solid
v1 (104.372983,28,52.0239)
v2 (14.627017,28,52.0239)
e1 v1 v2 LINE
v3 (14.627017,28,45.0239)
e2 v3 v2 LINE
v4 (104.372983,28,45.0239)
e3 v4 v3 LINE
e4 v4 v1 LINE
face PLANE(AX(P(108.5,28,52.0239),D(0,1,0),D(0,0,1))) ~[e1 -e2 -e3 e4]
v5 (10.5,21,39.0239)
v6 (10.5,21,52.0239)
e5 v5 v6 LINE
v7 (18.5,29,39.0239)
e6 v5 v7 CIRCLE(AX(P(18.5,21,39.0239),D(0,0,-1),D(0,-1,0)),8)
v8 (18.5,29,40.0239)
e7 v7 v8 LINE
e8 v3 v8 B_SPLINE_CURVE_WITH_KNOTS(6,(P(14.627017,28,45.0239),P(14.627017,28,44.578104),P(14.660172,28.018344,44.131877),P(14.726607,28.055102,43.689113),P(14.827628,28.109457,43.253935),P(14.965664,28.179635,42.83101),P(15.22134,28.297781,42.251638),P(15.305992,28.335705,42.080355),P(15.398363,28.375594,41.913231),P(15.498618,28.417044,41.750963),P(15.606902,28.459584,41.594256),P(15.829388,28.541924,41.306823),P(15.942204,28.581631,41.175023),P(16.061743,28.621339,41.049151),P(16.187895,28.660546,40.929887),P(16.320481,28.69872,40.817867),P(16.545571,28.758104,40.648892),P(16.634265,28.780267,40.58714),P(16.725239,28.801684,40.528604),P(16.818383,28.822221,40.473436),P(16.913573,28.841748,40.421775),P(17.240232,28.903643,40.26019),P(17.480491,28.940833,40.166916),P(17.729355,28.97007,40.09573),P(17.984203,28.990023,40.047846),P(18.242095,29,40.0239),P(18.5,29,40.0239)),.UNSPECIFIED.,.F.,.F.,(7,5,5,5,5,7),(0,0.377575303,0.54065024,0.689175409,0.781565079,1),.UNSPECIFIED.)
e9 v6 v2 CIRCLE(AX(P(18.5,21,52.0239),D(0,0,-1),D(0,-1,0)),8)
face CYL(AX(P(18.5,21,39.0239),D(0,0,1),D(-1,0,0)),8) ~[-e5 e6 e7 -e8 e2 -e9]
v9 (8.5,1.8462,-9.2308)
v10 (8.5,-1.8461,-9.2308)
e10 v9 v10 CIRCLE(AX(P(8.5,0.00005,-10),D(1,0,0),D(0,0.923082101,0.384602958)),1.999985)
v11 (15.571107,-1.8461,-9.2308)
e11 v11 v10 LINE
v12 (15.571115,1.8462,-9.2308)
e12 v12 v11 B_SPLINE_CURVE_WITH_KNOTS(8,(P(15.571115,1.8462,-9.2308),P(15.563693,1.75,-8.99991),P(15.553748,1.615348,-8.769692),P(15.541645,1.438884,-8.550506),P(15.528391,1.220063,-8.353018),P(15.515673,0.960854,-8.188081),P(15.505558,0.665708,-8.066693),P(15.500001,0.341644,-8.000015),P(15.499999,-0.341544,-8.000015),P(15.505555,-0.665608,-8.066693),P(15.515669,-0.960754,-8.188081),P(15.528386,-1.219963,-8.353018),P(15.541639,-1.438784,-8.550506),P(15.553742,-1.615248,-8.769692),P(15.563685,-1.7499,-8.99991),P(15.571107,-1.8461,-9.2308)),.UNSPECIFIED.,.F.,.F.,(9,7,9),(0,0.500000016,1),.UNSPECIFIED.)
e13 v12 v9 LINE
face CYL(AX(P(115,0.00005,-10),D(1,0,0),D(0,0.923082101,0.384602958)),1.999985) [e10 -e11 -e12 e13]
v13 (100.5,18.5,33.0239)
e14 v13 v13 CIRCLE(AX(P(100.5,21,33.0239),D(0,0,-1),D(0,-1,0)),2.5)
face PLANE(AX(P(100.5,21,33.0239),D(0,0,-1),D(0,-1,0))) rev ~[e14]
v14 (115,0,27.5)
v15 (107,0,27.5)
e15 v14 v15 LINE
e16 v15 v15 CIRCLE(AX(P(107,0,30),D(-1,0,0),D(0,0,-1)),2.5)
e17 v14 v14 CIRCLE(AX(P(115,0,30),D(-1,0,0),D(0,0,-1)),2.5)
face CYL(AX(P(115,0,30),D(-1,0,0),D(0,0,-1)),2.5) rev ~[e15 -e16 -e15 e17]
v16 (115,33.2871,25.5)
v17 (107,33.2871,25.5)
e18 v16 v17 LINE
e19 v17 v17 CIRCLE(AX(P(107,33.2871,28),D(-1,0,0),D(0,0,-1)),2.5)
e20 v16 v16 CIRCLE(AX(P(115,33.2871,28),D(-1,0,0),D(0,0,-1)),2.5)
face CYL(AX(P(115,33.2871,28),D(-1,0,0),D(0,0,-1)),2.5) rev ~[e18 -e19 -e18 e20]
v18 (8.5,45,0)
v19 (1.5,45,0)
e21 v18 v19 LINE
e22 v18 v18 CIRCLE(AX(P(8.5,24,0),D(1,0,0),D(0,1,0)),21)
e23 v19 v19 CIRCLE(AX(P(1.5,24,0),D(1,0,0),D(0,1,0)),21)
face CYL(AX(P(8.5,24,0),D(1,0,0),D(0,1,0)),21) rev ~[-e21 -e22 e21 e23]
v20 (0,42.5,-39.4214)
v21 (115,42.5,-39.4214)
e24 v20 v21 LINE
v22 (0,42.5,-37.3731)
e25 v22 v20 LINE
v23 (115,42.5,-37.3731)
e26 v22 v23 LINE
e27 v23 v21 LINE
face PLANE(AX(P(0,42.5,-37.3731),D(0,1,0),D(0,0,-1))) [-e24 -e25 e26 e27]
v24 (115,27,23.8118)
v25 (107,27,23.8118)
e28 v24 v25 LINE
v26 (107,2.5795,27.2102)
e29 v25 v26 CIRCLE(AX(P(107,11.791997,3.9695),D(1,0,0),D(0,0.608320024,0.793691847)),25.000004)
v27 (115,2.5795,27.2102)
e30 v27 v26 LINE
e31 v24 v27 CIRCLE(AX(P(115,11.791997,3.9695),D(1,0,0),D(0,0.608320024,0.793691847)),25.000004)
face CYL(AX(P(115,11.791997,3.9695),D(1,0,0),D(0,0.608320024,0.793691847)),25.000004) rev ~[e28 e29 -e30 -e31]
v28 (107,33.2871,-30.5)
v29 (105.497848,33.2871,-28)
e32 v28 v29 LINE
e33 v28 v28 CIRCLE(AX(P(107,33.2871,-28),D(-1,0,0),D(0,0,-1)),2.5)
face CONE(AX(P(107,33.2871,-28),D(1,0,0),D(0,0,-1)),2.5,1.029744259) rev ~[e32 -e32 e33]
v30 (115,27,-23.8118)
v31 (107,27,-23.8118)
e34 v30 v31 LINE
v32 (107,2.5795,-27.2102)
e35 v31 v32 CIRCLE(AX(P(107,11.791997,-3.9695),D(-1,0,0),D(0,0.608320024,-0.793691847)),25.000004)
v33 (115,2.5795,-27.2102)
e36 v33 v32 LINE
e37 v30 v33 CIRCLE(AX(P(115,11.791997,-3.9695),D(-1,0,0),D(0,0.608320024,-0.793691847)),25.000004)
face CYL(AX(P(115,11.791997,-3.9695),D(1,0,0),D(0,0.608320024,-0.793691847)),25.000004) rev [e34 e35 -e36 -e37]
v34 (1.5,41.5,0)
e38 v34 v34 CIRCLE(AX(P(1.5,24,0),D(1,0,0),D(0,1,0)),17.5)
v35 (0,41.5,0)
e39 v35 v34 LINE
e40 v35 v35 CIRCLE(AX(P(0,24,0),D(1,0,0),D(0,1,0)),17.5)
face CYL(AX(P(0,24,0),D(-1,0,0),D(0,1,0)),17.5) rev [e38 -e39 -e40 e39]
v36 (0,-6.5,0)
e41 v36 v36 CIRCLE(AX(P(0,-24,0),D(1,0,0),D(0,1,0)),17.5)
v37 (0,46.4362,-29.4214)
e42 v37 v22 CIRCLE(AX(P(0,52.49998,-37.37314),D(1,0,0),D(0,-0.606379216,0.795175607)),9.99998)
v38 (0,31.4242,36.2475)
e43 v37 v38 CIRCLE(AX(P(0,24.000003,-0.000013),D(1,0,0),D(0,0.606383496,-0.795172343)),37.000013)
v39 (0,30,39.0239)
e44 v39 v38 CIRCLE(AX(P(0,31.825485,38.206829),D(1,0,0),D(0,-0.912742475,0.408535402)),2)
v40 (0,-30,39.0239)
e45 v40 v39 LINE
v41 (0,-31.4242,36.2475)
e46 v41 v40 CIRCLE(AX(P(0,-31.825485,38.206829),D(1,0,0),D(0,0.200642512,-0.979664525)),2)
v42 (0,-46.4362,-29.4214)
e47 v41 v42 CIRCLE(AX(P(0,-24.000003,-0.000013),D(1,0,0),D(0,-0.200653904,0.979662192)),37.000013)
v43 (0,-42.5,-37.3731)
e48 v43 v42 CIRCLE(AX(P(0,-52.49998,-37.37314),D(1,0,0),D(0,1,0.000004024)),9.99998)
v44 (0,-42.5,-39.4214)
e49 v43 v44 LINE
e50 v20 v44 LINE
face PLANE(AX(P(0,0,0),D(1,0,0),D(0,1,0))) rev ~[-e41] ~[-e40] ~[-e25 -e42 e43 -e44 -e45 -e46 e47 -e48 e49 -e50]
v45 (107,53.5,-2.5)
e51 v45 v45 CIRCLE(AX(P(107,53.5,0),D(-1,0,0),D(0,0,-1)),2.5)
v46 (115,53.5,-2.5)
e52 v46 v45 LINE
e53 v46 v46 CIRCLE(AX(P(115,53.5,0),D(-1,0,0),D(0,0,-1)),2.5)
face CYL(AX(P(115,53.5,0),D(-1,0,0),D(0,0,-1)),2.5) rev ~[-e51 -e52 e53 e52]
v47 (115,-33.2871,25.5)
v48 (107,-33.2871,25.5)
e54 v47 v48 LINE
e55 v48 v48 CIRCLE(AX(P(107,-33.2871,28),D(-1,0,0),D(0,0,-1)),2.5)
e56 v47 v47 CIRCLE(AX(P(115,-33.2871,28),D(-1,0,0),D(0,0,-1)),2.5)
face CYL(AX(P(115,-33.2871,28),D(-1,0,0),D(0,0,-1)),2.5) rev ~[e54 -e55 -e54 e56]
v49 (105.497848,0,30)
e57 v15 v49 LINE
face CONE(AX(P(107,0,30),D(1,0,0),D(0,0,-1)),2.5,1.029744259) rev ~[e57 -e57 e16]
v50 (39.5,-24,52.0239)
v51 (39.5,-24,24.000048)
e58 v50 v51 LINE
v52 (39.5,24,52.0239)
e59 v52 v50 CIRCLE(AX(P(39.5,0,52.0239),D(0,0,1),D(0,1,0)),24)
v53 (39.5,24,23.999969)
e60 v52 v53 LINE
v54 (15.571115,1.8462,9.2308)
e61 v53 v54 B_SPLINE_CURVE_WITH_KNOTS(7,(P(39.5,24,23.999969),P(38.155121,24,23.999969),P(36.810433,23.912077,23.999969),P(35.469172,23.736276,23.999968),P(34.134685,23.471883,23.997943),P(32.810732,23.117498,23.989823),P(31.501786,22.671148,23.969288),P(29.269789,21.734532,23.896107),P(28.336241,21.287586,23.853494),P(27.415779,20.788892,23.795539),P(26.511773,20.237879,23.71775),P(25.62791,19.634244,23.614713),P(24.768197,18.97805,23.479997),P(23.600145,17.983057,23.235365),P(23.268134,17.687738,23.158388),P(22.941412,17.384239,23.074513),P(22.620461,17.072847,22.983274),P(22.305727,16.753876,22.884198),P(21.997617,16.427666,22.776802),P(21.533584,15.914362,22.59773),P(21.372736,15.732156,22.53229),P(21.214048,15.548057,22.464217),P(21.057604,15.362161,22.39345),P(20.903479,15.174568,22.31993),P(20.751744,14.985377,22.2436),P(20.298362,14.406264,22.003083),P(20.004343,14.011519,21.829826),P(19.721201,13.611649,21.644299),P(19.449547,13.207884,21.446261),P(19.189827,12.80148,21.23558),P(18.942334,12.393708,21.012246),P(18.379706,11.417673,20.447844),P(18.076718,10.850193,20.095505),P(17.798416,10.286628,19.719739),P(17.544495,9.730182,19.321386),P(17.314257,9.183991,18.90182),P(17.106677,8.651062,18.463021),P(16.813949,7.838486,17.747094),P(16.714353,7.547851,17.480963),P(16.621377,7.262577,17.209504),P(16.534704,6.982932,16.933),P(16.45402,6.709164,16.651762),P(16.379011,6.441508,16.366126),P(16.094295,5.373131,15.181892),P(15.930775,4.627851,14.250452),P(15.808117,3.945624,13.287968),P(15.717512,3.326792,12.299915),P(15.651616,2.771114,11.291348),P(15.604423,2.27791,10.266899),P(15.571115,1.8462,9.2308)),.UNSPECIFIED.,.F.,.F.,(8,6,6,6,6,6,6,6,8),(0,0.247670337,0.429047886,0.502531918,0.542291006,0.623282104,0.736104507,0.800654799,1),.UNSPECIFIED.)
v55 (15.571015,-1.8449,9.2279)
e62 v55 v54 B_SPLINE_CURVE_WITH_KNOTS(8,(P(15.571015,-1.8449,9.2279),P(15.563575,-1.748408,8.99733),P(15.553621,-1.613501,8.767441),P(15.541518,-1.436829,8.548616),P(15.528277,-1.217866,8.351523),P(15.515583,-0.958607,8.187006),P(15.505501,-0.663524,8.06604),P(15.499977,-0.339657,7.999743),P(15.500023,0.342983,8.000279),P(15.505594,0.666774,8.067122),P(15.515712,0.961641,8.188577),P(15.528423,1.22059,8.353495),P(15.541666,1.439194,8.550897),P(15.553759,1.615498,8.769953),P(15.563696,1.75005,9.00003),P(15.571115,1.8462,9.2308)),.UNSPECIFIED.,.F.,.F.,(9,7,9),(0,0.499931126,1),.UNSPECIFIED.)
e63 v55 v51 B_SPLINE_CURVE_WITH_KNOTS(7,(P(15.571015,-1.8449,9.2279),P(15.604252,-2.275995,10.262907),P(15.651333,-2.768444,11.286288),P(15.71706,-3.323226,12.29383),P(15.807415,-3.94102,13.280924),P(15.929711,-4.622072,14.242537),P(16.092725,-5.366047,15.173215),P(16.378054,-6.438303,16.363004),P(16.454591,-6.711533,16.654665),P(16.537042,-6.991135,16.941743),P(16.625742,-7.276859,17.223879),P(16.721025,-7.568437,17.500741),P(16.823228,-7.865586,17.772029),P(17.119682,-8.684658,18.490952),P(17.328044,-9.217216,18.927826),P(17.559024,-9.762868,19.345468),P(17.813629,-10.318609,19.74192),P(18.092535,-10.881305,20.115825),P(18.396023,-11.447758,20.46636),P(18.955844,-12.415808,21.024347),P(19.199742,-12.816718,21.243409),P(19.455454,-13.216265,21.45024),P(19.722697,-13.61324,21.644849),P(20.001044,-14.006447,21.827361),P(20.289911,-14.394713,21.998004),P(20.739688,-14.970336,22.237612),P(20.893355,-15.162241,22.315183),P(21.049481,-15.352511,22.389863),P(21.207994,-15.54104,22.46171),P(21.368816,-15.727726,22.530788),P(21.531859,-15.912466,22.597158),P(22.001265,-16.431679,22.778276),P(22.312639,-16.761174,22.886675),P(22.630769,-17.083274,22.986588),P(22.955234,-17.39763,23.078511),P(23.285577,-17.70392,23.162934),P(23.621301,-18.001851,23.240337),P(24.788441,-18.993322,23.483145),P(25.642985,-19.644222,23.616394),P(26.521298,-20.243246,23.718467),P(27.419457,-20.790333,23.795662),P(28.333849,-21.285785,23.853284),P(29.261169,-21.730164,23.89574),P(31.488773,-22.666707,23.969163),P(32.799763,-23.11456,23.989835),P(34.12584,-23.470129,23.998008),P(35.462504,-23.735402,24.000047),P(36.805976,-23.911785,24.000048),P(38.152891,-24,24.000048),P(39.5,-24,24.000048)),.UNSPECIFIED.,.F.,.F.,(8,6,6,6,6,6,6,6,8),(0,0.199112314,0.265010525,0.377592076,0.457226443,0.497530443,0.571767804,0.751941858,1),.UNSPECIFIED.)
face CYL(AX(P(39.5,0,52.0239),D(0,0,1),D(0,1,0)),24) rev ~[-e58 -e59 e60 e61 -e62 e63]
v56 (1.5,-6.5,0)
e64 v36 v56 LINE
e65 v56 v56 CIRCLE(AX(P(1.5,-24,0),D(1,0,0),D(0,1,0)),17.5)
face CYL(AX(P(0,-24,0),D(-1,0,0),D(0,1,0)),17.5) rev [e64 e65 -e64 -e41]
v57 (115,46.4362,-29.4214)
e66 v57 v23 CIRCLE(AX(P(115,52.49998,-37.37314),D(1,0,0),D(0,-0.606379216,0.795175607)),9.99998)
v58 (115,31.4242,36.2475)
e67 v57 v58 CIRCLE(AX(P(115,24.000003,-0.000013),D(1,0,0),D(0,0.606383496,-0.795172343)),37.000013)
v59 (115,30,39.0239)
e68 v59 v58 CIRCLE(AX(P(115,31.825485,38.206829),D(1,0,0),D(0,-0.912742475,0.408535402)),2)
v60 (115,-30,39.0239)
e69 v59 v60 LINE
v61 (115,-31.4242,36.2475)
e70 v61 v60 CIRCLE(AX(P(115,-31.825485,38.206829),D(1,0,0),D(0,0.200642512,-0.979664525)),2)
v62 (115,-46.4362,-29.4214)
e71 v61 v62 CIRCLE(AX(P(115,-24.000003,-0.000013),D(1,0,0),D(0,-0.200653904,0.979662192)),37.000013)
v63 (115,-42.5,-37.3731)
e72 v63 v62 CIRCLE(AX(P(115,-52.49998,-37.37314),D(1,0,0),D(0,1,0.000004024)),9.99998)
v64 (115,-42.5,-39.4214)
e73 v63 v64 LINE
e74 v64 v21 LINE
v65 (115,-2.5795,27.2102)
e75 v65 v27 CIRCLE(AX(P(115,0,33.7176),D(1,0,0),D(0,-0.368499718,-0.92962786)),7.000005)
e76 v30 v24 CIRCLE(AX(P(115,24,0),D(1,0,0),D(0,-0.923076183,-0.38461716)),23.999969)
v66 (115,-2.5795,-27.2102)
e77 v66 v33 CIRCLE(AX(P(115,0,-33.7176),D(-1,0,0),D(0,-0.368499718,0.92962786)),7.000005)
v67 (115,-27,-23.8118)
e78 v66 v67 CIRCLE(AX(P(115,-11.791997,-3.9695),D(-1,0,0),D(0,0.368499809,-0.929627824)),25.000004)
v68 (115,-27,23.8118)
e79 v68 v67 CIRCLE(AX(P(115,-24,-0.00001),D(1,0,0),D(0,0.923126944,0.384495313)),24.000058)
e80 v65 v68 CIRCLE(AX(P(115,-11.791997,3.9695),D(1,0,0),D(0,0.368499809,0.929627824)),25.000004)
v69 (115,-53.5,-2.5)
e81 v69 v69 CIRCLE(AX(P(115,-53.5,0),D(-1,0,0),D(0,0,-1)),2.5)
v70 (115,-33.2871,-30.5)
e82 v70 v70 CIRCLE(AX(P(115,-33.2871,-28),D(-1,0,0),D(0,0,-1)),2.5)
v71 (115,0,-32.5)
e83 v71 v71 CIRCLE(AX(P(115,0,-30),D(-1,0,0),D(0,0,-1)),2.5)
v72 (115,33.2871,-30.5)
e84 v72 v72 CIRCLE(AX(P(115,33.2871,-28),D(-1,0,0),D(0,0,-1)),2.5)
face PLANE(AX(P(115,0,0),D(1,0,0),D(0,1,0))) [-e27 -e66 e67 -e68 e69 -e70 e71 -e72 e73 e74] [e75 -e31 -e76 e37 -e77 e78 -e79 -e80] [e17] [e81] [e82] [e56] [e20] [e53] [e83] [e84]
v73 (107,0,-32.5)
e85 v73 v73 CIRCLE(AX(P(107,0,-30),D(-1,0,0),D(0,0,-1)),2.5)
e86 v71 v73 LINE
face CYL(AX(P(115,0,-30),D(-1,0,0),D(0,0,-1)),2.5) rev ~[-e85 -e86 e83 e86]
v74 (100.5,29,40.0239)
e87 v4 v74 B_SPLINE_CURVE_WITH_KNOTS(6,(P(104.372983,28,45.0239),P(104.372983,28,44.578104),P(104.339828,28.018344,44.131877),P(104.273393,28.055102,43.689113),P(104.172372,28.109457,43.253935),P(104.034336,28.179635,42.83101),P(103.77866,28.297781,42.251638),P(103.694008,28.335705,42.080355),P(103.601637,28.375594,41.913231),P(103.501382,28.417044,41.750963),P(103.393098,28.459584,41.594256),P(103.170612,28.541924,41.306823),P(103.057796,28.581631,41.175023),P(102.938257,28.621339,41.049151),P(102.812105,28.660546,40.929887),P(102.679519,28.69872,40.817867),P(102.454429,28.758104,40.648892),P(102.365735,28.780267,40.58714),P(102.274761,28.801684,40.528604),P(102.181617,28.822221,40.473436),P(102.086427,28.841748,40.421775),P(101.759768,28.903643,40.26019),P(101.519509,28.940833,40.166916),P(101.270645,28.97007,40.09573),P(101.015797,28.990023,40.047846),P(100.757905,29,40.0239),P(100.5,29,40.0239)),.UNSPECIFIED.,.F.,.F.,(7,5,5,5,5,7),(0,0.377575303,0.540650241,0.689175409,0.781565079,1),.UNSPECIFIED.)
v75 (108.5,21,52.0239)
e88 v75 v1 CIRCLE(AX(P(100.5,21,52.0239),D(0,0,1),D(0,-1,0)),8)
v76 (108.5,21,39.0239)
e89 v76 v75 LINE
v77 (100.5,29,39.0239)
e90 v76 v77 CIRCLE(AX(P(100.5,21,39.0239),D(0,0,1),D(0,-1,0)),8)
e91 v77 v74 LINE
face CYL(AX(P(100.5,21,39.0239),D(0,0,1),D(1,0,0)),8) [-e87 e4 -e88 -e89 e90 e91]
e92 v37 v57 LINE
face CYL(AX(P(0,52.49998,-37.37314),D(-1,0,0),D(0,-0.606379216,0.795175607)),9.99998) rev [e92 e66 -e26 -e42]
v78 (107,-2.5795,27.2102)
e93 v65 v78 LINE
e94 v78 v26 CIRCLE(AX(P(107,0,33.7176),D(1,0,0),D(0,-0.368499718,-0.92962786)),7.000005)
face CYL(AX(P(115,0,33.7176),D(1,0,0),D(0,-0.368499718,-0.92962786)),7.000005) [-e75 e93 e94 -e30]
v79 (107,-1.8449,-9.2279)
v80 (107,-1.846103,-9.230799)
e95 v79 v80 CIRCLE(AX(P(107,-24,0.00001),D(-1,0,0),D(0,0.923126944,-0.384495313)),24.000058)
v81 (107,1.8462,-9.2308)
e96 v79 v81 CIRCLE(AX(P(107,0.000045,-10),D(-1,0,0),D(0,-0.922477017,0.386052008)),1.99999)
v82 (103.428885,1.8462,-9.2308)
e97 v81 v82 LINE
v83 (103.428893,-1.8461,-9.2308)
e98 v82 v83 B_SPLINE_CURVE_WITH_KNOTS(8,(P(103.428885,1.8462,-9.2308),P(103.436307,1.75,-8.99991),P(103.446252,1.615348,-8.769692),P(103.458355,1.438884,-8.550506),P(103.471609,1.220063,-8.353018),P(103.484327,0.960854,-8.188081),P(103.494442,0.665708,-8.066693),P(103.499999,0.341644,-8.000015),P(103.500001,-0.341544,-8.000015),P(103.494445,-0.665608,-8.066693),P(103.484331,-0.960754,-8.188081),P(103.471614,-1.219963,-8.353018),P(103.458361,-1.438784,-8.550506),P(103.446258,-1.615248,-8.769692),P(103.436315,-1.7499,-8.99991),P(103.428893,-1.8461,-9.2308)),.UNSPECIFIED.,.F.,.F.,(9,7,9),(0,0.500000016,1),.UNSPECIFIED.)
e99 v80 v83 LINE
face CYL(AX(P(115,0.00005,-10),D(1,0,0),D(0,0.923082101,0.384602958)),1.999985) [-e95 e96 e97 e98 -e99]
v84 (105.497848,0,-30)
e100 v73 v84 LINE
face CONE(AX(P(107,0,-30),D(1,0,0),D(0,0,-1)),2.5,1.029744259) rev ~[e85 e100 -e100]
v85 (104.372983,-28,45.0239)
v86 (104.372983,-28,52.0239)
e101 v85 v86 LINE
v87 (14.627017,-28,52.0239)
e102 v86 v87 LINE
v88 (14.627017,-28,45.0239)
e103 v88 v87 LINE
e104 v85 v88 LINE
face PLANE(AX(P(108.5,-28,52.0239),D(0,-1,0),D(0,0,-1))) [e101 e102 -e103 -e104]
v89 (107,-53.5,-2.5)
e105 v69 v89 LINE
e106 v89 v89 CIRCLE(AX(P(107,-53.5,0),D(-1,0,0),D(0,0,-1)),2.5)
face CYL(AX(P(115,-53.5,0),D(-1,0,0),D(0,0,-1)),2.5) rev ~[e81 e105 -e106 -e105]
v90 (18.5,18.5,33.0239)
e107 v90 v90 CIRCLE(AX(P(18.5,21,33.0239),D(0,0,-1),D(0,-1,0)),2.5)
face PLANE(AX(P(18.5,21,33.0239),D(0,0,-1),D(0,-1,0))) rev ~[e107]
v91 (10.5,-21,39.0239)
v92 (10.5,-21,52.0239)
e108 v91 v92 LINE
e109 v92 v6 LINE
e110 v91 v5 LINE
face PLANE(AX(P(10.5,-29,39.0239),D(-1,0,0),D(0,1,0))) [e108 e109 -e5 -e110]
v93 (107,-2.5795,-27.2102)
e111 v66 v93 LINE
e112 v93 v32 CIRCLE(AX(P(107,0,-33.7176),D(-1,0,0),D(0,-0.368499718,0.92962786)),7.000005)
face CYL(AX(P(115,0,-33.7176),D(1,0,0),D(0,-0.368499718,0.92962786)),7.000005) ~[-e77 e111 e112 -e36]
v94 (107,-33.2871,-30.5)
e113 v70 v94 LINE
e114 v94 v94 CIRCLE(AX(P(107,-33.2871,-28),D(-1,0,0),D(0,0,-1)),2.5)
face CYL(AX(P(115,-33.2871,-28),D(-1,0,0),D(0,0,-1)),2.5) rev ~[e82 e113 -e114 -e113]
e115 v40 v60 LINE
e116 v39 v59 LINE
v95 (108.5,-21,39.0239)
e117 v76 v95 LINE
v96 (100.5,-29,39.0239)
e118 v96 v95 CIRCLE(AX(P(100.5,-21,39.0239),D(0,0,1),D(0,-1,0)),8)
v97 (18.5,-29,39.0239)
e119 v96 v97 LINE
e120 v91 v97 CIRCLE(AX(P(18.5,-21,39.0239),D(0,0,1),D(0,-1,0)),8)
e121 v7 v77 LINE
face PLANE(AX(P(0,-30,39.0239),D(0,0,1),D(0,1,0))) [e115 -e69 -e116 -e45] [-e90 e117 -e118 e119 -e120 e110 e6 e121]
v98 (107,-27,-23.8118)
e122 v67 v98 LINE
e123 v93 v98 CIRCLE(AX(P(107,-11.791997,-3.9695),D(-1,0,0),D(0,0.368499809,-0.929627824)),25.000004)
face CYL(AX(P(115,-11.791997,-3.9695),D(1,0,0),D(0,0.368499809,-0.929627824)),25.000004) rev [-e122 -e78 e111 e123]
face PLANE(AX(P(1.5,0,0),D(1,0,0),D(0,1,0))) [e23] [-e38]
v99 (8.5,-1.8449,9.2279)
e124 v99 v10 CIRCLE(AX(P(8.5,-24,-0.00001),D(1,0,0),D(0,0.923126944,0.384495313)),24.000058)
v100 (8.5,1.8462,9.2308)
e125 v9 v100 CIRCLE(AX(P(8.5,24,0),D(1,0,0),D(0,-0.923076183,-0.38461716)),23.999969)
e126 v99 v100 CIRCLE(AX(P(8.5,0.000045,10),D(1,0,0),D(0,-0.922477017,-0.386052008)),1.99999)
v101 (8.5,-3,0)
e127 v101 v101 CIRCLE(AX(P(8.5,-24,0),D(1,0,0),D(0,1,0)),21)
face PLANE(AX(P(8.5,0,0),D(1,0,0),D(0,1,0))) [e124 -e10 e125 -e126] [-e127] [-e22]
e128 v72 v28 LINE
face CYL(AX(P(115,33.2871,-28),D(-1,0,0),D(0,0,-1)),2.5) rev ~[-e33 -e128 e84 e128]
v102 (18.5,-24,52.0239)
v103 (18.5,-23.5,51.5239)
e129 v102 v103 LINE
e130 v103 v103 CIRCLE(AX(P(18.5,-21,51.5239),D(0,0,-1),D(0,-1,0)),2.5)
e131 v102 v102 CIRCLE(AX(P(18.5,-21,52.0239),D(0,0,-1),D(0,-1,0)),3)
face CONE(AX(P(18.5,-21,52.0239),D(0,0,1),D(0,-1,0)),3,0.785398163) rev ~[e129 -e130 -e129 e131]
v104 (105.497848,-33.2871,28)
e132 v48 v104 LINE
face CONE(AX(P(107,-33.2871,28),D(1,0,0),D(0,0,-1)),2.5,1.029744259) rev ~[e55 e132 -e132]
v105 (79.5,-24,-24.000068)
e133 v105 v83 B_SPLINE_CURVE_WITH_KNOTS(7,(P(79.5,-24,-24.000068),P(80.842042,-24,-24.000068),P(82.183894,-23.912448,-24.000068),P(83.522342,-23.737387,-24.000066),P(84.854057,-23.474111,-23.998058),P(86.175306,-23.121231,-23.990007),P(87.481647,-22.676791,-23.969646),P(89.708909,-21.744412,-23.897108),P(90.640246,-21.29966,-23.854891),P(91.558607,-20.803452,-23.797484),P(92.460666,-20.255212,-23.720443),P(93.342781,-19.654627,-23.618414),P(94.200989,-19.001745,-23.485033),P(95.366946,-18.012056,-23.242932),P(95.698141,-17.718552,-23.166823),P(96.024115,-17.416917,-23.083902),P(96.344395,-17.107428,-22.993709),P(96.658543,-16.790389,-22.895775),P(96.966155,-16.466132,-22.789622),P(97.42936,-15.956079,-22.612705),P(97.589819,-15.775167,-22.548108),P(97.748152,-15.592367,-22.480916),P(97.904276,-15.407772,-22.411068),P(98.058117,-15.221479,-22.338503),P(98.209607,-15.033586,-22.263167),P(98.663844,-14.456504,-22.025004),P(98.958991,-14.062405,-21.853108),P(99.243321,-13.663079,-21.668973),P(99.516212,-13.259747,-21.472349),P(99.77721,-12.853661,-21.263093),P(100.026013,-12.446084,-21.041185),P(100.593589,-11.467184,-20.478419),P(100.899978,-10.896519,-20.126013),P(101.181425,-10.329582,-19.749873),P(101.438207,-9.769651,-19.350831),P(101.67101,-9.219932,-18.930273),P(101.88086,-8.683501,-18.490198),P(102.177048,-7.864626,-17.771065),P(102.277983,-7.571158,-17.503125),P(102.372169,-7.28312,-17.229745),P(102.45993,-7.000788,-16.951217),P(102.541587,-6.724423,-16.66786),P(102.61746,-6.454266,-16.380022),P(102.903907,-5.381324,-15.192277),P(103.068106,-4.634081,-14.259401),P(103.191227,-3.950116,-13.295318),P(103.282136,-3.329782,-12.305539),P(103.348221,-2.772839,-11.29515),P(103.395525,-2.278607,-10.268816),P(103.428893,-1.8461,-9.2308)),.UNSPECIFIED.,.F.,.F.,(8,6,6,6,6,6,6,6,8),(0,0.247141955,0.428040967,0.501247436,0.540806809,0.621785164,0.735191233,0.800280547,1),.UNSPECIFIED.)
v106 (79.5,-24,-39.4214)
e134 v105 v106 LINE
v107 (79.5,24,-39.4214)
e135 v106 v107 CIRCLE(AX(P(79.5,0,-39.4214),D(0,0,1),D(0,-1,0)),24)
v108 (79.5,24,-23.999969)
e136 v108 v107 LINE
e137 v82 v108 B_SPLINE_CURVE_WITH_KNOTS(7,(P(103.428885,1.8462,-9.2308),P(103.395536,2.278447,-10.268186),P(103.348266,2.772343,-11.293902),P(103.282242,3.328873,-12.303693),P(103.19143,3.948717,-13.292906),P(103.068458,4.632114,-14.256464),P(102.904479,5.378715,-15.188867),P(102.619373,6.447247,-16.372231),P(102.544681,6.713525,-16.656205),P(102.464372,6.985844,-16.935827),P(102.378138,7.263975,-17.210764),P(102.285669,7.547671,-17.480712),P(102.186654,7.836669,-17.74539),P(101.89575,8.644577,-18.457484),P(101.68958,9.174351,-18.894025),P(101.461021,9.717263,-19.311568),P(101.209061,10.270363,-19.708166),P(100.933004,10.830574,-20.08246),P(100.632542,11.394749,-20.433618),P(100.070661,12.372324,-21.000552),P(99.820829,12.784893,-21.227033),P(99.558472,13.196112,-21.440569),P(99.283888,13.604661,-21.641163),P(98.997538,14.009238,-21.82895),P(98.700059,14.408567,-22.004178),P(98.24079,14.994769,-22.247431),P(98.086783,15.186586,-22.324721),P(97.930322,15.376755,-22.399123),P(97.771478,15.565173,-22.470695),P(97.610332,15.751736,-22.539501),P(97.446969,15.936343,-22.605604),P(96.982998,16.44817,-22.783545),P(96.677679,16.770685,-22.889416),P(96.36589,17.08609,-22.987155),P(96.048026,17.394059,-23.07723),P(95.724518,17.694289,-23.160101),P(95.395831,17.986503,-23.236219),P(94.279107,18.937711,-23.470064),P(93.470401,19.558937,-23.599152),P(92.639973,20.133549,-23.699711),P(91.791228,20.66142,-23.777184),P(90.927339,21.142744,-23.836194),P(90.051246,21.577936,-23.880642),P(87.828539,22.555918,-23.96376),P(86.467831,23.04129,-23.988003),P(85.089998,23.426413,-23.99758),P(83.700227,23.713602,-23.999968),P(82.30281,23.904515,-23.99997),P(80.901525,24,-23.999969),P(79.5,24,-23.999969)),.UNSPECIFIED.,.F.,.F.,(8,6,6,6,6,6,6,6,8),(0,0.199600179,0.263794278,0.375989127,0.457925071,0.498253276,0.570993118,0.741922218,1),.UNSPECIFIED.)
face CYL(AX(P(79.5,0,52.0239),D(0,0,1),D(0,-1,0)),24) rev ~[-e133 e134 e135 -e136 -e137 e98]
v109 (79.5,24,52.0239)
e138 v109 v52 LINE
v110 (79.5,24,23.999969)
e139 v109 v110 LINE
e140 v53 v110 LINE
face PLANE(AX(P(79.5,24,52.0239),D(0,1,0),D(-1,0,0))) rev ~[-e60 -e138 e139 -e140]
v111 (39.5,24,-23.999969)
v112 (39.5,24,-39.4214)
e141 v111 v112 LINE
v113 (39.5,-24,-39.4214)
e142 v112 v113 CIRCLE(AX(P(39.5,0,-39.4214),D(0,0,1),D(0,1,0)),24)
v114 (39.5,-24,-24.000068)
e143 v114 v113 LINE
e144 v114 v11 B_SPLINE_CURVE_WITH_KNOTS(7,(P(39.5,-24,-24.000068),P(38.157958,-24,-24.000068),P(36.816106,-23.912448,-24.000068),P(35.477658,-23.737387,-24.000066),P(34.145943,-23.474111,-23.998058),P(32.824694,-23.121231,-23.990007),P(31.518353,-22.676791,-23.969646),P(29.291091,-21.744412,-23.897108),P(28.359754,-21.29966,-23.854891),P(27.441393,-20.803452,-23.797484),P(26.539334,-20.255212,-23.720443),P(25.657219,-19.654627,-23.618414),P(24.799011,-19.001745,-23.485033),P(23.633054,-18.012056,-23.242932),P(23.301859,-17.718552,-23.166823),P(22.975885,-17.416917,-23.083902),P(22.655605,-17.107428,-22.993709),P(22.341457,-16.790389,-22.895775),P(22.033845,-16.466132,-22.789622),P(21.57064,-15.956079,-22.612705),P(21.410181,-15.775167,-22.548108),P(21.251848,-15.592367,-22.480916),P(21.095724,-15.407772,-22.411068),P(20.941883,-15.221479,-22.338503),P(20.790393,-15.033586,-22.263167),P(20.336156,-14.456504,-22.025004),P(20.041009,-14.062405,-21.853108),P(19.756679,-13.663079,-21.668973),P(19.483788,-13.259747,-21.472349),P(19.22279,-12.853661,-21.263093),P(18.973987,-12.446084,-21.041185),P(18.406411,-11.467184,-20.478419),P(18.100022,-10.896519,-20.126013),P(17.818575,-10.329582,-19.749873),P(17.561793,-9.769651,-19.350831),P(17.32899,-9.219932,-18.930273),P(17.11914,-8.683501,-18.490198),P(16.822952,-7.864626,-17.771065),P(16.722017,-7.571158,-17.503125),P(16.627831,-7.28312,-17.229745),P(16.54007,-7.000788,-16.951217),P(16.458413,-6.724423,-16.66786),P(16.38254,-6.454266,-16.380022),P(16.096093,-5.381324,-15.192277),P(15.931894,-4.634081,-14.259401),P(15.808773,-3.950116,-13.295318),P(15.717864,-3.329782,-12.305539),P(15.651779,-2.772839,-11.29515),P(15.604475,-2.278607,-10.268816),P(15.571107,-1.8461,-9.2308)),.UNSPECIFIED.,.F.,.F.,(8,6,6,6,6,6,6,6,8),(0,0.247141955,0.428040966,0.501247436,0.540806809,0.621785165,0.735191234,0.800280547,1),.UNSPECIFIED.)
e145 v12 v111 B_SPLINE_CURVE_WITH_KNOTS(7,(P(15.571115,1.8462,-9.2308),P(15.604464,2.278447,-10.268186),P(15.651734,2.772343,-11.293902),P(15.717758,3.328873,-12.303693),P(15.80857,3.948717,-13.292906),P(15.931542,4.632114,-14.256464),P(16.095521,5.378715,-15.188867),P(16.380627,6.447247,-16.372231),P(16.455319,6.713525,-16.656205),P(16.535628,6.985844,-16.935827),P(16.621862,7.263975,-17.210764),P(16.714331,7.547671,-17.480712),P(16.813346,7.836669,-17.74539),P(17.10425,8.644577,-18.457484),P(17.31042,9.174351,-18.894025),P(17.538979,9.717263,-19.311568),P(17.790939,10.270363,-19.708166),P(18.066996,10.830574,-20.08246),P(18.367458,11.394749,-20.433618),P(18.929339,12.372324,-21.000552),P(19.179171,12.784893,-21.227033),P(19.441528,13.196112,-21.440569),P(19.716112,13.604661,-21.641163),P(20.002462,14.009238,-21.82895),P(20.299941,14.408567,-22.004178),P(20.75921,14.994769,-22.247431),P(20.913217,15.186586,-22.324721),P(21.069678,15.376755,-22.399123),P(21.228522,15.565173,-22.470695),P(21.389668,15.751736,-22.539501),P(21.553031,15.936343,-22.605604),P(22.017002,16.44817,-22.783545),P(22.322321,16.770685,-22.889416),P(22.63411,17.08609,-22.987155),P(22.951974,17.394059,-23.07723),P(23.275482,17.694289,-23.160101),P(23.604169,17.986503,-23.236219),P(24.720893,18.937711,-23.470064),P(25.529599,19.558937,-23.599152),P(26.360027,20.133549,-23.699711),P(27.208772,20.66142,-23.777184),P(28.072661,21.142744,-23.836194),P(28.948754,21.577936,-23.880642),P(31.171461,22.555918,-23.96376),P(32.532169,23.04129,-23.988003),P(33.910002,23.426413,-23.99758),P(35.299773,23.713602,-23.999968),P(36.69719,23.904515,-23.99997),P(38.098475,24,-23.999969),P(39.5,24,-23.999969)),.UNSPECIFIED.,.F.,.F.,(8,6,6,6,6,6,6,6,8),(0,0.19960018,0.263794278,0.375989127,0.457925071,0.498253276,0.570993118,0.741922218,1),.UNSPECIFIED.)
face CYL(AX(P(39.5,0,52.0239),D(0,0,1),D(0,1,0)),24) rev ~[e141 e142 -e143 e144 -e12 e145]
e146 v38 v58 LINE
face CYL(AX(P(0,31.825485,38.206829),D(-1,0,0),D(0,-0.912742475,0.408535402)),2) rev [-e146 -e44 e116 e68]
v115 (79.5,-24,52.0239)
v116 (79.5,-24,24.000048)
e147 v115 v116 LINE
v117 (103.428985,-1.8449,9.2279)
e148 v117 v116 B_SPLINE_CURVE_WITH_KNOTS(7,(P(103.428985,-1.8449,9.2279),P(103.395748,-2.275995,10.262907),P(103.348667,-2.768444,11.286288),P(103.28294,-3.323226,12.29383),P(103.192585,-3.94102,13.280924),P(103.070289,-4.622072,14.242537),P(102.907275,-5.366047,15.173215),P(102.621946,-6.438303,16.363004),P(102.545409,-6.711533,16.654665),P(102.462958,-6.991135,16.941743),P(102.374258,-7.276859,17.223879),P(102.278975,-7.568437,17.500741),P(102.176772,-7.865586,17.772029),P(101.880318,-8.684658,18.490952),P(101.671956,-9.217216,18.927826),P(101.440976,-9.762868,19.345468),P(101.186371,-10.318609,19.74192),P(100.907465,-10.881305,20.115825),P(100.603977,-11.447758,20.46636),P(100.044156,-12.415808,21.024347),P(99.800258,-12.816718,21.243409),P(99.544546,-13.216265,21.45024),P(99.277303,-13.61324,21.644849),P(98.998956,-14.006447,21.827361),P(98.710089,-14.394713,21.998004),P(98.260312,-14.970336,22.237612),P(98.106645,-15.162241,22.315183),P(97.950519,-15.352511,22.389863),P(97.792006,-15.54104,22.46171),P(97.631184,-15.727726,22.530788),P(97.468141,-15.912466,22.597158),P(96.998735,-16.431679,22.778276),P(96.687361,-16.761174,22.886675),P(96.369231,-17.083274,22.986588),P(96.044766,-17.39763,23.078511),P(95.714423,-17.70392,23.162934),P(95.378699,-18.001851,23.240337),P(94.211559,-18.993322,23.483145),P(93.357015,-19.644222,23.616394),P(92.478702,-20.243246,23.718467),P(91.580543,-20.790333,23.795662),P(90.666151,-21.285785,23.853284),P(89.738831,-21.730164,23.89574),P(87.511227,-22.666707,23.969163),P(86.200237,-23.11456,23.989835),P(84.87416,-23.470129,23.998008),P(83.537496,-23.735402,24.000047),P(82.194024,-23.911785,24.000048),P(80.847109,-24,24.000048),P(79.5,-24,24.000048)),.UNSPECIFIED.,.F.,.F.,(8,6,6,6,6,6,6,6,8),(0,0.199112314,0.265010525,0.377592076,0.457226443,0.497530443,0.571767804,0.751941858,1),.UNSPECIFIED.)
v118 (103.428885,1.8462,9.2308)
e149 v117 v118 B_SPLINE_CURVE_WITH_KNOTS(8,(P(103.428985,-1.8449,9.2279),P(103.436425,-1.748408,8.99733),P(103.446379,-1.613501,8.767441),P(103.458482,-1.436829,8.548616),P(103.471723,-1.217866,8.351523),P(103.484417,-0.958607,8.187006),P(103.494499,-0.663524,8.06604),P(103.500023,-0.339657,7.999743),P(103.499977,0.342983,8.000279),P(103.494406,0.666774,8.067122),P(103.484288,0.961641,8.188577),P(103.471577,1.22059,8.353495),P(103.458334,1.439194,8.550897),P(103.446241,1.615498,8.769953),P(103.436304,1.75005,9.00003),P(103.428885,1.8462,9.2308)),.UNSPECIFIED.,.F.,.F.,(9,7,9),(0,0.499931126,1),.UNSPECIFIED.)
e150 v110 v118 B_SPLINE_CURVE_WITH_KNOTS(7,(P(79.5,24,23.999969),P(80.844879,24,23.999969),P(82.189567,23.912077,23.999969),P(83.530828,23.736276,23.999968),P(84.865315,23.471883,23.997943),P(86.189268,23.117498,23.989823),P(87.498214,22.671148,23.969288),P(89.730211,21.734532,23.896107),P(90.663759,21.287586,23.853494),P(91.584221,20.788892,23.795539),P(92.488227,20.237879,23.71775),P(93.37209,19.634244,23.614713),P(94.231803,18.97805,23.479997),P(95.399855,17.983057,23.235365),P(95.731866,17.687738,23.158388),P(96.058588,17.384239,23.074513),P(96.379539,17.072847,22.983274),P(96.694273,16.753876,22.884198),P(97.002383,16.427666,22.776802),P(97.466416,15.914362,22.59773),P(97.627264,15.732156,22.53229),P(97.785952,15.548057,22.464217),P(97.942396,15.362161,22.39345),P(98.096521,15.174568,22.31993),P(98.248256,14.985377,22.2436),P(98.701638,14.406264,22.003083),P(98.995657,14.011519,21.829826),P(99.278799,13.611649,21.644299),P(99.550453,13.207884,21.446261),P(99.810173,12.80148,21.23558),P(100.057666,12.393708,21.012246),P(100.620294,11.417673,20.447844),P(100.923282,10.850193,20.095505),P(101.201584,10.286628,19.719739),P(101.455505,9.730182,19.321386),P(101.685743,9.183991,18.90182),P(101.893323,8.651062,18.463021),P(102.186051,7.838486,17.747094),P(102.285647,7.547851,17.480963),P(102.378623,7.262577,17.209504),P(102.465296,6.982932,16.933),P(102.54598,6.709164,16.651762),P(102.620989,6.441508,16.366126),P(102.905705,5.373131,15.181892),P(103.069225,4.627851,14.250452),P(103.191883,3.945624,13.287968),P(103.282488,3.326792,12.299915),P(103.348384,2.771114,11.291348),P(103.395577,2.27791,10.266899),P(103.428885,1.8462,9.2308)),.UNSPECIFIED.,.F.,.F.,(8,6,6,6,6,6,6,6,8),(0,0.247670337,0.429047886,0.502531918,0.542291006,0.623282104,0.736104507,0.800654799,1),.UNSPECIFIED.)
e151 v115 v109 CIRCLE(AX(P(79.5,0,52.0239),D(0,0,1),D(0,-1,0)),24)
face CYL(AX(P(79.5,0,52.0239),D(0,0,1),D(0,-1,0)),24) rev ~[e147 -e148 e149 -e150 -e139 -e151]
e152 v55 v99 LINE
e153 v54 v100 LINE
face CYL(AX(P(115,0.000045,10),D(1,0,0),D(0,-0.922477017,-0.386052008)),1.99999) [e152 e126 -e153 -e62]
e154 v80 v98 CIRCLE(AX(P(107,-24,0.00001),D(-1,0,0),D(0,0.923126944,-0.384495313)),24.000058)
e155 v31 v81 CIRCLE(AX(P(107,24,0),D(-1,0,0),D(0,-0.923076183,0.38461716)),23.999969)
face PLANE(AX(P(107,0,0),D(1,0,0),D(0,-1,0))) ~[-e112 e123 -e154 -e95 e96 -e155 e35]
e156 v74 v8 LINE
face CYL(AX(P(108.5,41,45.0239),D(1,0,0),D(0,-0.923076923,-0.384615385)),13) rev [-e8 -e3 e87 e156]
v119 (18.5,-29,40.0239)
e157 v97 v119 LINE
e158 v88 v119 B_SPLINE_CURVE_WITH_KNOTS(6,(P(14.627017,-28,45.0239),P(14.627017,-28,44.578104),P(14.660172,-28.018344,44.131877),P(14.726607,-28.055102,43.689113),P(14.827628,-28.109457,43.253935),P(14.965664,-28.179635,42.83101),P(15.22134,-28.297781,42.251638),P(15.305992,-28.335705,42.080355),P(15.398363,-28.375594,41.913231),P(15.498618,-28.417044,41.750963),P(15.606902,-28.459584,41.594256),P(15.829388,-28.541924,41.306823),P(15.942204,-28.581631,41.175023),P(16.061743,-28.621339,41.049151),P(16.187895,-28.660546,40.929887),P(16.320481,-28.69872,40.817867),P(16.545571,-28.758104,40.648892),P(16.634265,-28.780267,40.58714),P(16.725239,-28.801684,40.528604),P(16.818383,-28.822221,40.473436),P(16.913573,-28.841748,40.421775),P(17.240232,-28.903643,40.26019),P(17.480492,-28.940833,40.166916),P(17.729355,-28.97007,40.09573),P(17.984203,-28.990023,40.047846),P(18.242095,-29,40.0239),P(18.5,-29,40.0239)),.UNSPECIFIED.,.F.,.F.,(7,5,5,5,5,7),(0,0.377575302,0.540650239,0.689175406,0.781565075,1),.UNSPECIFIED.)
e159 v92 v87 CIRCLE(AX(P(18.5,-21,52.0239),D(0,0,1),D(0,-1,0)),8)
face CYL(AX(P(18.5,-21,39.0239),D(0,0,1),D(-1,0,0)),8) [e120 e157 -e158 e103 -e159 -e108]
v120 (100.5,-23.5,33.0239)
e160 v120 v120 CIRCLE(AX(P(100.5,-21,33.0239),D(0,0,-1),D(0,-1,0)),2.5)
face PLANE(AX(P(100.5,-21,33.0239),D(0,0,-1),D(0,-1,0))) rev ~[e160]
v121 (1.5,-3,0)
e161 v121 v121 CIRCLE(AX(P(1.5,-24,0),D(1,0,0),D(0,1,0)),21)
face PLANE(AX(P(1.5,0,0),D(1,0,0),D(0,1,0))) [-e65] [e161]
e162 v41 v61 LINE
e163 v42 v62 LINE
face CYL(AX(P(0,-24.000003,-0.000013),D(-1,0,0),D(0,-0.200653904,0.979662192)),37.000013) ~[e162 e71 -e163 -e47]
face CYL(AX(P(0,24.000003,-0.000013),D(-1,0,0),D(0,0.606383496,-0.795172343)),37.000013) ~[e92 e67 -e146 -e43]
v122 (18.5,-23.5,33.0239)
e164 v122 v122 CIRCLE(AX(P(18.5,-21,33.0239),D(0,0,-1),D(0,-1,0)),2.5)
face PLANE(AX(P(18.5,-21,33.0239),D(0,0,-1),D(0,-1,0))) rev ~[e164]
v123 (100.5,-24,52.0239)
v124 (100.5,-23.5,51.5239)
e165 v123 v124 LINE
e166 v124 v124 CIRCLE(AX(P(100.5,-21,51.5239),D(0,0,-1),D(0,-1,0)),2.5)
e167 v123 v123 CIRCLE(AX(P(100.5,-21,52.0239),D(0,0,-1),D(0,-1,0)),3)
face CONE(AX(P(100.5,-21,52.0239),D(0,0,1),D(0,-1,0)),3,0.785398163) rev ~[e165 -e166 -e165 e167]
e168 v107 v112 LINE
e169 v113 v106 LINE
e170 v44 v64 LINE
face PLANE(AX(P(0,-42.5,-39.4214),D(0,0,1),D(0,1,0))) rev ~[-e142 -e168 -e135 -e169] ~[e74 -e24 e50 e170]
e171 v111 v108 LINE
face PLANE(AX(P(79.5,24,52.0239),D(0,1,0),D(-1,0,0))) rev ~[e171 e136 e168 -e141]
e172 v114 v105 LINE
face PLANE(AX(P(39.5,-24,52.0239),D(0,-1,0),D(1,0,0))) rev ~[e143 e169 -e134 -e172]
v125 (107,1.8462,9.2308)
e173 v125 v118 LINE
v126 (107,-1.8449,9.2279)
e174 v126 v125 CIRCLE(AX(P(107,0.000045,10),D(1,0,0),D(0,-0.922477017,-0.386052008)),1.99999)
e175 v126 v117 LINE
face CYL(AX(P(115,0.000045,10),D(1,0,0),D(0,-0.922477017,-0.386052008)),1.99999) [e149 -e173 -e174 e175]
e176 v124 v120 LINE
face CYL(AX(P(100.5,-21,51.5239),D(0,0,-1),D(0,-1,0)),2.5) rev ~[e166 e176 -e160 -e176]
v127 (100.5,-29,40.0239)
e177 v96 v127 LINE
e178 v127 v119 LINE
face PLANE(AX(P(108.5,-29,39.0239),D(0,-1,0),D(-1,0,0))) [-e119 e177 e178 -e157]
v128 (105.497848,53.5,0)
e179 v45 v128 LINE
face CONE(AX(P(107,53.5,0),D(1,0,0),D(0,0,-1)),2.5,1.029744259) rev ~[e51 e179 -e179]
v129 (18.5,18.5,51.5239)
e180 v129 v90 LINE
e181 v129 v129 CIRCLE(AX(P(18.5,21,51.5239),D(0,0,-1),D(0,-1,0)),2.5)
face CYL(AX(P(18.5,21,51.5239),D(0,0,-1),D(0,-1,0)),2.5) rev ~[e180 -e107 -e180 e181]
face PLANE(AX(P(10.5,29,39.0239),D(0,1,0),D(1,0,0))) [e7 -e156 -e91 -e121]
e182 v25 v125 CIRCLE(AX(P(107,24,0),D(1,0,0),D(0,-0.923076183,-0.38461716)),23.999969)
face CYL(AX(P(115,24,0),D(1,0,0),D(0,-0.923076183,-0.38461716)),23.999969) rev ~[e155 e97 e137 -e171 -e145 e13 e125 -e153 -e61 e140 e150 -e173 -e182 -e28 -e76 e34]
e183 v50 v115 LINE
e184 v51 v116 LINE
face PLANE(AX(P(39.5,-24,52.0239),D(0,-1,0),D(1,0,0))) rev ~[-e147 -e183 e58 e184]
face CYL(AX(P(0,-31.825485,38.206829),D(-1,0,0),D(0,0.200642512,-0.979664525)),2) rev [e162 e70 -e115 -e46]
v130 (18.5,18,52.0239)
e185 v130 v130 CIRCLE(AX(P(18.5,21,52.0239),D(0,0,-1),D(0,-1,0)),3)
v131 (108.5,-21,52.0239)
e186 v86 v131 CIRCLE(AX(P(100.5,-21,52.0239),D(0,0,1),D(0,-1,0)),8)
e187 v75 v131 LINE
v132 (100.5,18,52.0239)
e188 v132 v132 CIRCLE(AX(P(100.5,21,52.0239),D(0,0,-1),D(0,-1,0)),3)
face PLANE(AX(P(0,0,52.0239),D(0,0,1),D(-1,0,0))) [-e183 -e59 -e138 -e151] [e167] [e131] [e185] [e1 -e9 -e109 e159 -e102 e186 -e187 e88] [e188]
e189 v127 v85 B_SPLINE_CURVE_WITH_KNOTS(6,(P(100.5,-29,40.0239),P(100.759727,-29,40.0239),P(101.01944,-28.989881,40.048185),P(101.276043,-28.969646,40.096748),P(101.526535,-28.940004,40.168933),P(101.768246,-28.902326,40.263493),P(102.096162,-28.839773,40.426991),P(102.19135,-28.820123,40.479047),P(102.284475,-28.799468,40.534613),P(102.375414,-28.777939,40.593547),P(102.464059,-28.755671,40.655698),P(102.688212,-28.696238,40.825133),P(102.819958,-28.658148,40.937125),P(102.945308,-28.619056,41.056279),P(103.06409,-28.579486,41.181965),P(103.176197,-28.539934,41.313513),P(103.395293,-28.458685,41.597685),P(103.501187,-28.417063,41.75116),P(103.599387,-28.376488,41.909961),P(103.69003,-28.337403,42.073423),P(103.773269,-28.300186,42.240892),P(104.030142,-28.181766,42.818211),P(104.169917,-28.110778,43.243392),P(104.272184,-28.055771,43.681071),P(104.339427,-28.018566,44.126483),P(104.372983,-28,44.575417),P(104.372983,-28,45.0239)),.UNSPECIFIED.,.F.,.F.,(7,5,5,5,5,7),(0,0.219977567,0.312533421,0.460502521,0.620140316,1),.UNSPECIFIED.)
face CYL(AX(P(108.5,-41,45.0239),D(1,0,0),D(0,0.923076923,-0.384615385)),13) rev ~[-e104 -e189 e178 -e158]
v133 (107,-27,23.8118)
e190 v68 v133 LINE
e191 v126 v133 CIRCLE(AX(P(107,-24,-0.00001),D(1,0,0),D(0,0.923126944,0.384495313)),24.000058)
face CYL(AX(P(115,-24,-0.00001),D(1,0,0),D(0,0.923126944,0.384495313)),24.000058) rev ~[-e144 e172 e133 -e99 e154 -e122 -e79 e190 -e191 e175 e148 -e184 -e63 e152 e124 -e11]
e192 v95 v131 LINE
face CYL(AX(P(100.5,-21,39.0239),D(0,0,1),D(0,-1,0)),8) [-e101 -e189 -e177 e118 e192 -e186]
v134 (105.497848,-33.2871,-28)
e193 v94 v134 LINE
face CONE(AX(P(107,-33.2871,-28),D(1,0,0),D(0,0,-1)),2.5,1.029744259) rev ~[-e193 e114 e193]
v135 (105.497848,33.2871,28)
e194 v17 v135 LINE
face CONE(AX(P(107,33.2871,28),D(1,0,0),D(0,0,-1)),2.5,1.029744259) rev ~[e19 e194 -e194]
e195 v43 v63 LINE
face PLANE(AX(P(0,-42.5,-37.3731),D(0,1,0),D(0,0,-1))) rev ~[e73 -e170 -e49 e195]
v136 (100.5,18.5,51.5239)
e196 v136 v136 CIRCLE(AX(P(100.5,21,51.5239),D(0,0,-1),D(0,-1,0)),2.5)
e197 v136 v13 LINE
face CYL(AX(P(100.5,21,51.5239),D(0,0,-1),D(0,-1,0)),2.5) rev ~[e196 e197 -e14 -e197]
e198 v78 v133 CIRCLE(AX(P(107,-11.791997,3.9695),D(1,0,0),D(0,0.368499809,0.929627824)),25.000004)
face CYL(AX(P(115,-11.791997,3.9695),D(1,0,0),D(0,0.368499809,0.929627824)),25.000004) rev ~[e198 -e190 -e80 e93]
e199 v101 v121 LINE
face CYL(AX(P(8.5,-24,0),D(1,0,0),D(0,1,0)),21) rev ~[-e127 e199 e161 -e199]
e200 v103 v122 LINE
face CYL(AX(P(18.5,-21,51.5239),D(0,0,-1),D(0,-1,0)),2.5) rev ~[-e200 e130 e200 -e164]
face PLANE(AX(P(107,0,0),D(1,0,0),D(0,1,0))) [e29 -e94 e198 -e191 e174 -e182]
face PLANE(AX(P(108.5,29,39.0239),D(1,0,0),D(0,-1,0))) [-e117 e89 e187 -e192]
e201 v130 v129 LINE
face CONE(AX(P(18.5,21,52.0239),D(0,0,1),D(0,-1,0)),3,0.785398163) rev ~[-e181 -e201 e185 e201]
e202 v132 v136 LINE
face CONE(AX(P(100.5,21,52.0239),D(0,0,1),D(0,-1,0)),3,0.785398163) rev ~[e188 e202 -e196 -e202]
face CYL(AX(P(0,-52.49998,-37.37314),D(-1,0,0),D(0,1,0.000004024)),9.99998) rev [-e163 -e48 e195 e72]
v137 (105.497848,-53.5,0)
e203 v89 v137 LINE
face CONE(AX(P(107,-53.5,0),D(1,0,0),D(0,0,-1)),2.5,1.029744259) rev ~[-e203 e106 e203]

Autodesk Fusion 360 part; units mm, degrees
sketch "Sketch1" plane through (0, 0, 0) normal (1, 0, 0) x (0, 1, 0)
  circle A0 centre (-24, 0) radius 17.5
  arc A1 (-42.5, -37.3731) -> (-46.4362, -29.4214) centre (-52.5, -37.3731) ccw
  arc A2 (-31.4242, 36.2475) -> (-46.4362, -29.4214) centre (-24, 0) ccw
  arc A3 (-31.4242, 36.2475) -> (-30, 39.0239) centre (-31.8255, 38.2068) ccw
  line L0 (-30, 39.0239) -> (0, 39.0239)
  line L1 (0, 39.0239) -> (0, 0) construction
  line L2 (-42.5, -37.3731) -> (-42.5, -39.4214)
  line L3 (-42.5, -39.4214) -> (0, -39.4214)
  line L4 (0, 0) -> (0, -39.4214)
  line L5 (30, 39.0239) -> (0, 39.0239)
  arc A4 (30, 39.0239) -> (31.4242, 36.2475) centre (31.8255, 38.2068) ccw
  arc A5 (46.4362, -29.4214) -> (31.4242, 36.2475) centre (24, 0) ccw
  arc A6 (46.4362, -29.4214) -> (42.5, -37.3731) centre (52.5, -37.3731) ccw
  line L6 (42.5, -37.3731) -> (42.5, -39.4214)
  line L7 (42.5, -39.4214) -> (0, -39.4214)
  line L8 (0, 0) -> (0, -39.4214)
  circle A7 centre (24, 0) radius 17.5
  dimension "d1" = 35
  dimension "d2" = 24
  dimension "d3" = 2
  dimension "d4" = 37
  dimension "d5" = 10
  dimension "d6" = 10
  dimension "d7" = 42.5
  dimension "d8" = 30
extrude "Extrude1" add sketch "Sketch1" along normal blind 115
sketch "Sketch2" plane through (115, 0, 0) normal (1, 0, 0) x (0, 1, 0)
  circle A0 centre (-24, 0) radius 17.5
  circle A1 centre (24, 0) radius 17.5
  arc A2 (46.4362, -29.4214) -> (31.4242, 36.2475) centre (24, 0) ccw
  arc A3 (30, 39.0239) -> (31.4242, 36.2475) centre (31.8255, 38.2068) ccw
  line L0 (30, 39.0239) -> (-30, 39.0239)
  arc A4 (-31.4242, 36.2475) -> (-30, 39.0239) centre (-31.8255, 38.2068) ccw
  arc A5 (-31.4242, 36.2475) -> (-46.4362, -29.4214) centre (-24, 0) ccw
  arc A6 (-42.5, -37.3731) -> (-46.4362, -29.4214) centre (-52.5, -37.3731) ccw
  line L1 (-42.5, -37.3731) -> (-42.5, -39.4214)
  line L2 (-42.5, -39.4214) -> (42.5, -39.4214)
  line L3 (42.5, -39.4214) -> (42.5, -37.3731)
  arc A7 (46.4362, -29.4214) -> (42.5, -37.3731) centre (52.5, -37.3731) ccw
  arc A8 (-1.8449, 9.2279) -> (1.8462, 9.2308) centre (0, 10) ccw
  arc A9 (1.8462, -9.2308) -> (-1.8461, -9.2308) centre (0, -10) ccw
  arc A10 (-1.8449, 9.2279) -> (-1.8461, -9.2308) centre (-24, 0) ccw
  arc A11 (1.8462, -9.2308) -> (1.8462, 9.2308) centre (24, 0) ccw
  dimension "d11" = 48
  dimension "d12" = 48
  dimension "d13" = 20
  dimension "d14" = 2
  dimension "d15" = 2
extrude "Extrude2" cut sketch "Sketch2" against normal blind 106.5 contours A8 A9 A10 A11
sketch "Sketch3" plane through (115, 0, 0) normal (1, 0, 0) x (0, 1, 0)
  arc A0 (1.8462, -9.2308) -> (-1.8461, -9.2308) centre (0, -10) ccw
  arc A1 (-1.8449, 9.2279) -> (-1.8461, -9.2308) centre (-24, 0) ccw
  arc A2 (-1.8449, 9.2279) -> (1.8462, 9.2308) centre (0, 10) ccw
  arc A3 (1.8462, -9.2308) -> (1.8462, 9.2308) centre (24, 0) ccw
  arc A4 (46.4362, -29.4214) -> (31.4242, 36.2475) centre (24, 0) ccw
  arc A5 (30, 39.0239) -> (31.4242, 36.2475) centre (31.8255, 38.2068) ccw
  line L0 (30, 39.0239) -> (-30, 39.0239)
  arc A6 (-31.4242, 36.2475) -> (-30, 39.0239) centre (-31.8255, 38.2068) ccw
  arc A7 (-31.4242, 36.2475) -> (-46.4362, -29.4214) centre (-24, 0) ccw
  arc A8 (-42.5, -37.3731) -> (-46.4362, -29.4214) centre (-52.5, -37.3731) ccw
  line L1 (-42.5, -37.3731) -> (-42.5, -39.4214)
  line L2 (-42.5, -39.4214) -> (42.5, -39.4214)
  line L3 (42.5, -39.4214) -> (42.5, -37.3731)
  arc A9 (46.4362, -29.4214) -> (42.5, -37.3731) centre (52.5, -37.3731) ccw
  line L4 (0, 0) -> (0, 67.4352) construction
  arc A10 (-2.5795, 27.2102) -> (-27, 23.8118) centre (-11.792, 3.9695) ccw
  arc A11 (-2.5795, 27.2102) -> (2.5795, 27.2102) centre (0, 33.7176) ccw
  arc A12 (27, 23.8118) -> (2.5795, 27.2102) centre (11.792, 3.9695) ccw
  dimension "d18" = 7
  dimension "d19" = 25
  dimension "d20" = 54
extrude "Extrude3" cut sketch "Sketch3" against normal blind 8 contours A1 A2 A3 A10 A11 A12
sketch "Sketch4" plane through (8.5, 0, 0) normal (1, 0, 0) x (0, 1, 0)
  circle A0 centre (-24, 0) radius 17.5
  circle A1 centre (24, 0) radius 17.5
  arc A2 (-1.8449, 9.2279) -> (-1.8461, -9.2308) centre (-24, 0) ccw
  arc A3 (1.8462, -9.2308) -> (-1.8461, -9.2308) centre (0, -10) ccw
  arc A4 (1.8462, -9.2308) -> (1.8462, 9.2308) centre (24, 0) ccw
  arc A5 (-1.8449, 9.2279) -> (1.8462, 9.2308) centre (0, 10) ccw
  circle A6 centre (-24, 0) radius 21
  circle A7 centre (24, 0) radius 21
  dimension "d23" = 42
  dimension "d24" = 42
extrude "Extrude4" cut sketch "Sketch4" against normal blind 7 contours A6 | A7
sketch "Sketch5" plane through (0, 0, 39.0239) normal (0, 0, 1) x (-1, 0, 0)
  line L0 (0, -30) -> (0, 30)
  line L1 (0, 30) -> (-115, 30)
  line L2 (-115, 30) -> (-115, -30)
  line L3 (-115, -30) -> (0, -30)
  line L4 (-10.5, -29) -> (-108.5, -29)
  line L5 (-108.5, -29) -> (-108.5, 29)
  line L6 (-108.5, 29) -> (-10.5, 29)
  line L7 (-10.5, 29) -> (-10.5, -29)
  line L8 (-10.5, -29) -> (-108.5, 29) construction
  line L9 (-108.5, -29) -> (-10.5, 29) construction
  point P0 (-59.5, 0)
  dimension "d27" = 10.5
  dimension "d28" = 58
  dimension "d29" = 98
extrude "Extrude5" add sketch "Sketch5" along normal blind 13 contours L4 L5 L6 L7
fillet "Fillet1" radius 8 4 edges at (108.5, -29, 45.5239) (108.5, 29, 45.5239) (10.5, 29, 45.5239) (10.5, -29, 45.5239)
sketch "Sketch6" plane through (0, 0, 52.0239) normal (0, 0, 1) x (-1, 0, 0)
  arc A0 (-10.5, 21) -> (-18.5, 29) centre (-18.5, 21) ccw
  line L0 (-18.5, 29) -> (-100.5, 29)
  arc A1 (-100.5, 29) -> (-108.5, 21) centre (-100.5, 21) ccw
  line L1 (-108.5, 21) -> (-108.5, -21)
  arc A2 (-108.5, -21) -> (-100.5, -29) centre (-100.5, -21) ccw
  line L2 (-100.5, -29) -> (-18.5, -29)
  arc A3 (-18.5, -29) -> (-10.5, -21) centre (-18.5, -21) ccw
  line L3 (-10.5, -21) -> (-10.5, 21)
  line L4 (-39.5, 24) -> (-79.5, 24)
  arc A4 (-79.5, 24) -> (-79.5, -24) centre (-79.5, 0) ccw
  line L5 (-79.5, -24) -> (-39.5, -24)
  arc A5 (-39.5, -24) -> (-39.5, 24) centre (-39.5, 0) ccw
  line L6 (-39.5, 0) -> (-79.5, 0) construction
  point P0 (-59.5, 0)
  dimension "d34" = 24
  dimension "d35" = 40
  dimension "d36" = 29
extrude "Extrude6" cut sketch "Sketch6" against normal blind 100 contours L4 A4 L5 A5
sketch "Sketch7" plane through (108.5, 0, 0) normal (1, 0, 0) x (0, 1, 0)
  line L0 (21, 39.0239) -> (21, 52.0239)
  line L1 (21, 52.0239) -> (-21, 52.0239)
  line L2 (-21, 52.0239) -> (-21, 39.0239)
  line L3 (-21, 39.0239) -> (21, 39.0239)
  line L4 (-28, 52.0239) -> (-28, 45.0239)
  arc A0 (-29, 40.0239) -> (-28, 45.0239) centre (-41, 45.0239) ccw
  line L5 (-29, 52.0239) -> (-21, 52.0239)
  line L6 (-29, 52.0239) -> (-29, 39.0239)
  dimension "d39" = 1
  dimension "d40" = 1
  dimension "d41" = 7
extrude "Extrude7" cut sketch "Sketch7" against normal up to surface (98 mm away) contours L4 A0 L5 L6
mirror "Mirror1" about plane through (0, 0, 0) normal (0, 1, 0) of "Extrude7"
sketch "Sketch8" plane through (0, 0, 52.0239) normal (0, 0, 1) x (-1, 0, 0)
  line L0 (-104.373, -28) -> (-14.627, -28)
  arc A0 (-14.627, -28) -> (-10.5, -21) centre (-18.5, -21) ccw
  line L1 (-10.5, -21) -> (-10.5, 21)
  arc A1 (-10.5, 21) -> (-14.627, 28) centre (-18.5, 21) ccw
  line L2 (-14.627, 28) -> (-104.373, 28)
  arc A2 (-104.373, 28) -> (-108.5, 21) centre (-100.5, 21) ccw
  line L3 (-108.5, 21) -> (-108.5, -21)
  arc A3 (-108.5, -21) -> (-104.373, -28) centre (-100.5, -21) ccw
  line L4 (-79.5, 24) -> (-39.5, 24)
  arc A4 (-39.5, -24) -> (-39.5, 24) centre (-39.5, 0) ccw
  line L5 (-39.5, -24) -> (-79.5, -24)
  arc A5 (-79.5, 24) -> (-79.5, -24) centre (-79.5, 0) ccw
  circle A6 centre (-100.5, 21) radius 3
  circle A7 centre (-100.5, -21) radius 3
  circle A8 centre (-18.5, -21) radius 3
  circle A9 centre (-18.5, 21) radius 3
  dimension "d46" = 6
  dimension "d47" = 6
  dimension "d48" = 6
  dimension "d49" = 6
hole "Hole1" at (100.5, 21, 52.0239) at (100.5, -21, 52.0239) at (18.5, -21, 52.0239) at (18.5, 21, 52.0239) direction (0, 0, -1) diameter 5 depth 19 tip angle 180 countersink diameter 6 countersink angle 90
sketch "Sketch9" plane through (115, 0, 0) normal (1, 0, 0) x (0, 1, 0)
  arc A0 (27, 23.8118) -> (2.5795, 27.2102) centre (11.792, 3.9695) ccw
  arc A1 (1.8462, -9.2308) -> (27, 23.8118) centre (24, 0) ccw
  arc A2 (1.8462, -9.2308) -> (-1.8461, -9.2308) centre (0, -10) ccw
  arc A3 (-27, 23.8118) -> (-1.8461, -9.2308) centre (-24, 0) ccw
  arc A4 (-2.5795, 27.2102) -> (-27, 23.8118) centre (-11.792, 3.9695) ccw
  arc A5 (-2.5795, 27.2102) -> (2.5795, 27.2102) centre (0, 33.7176) ccw
  arc A6 (46.4362, -29.4214) -> (31.4242, 36.2475) centre (24, 0) ccw
  arc A7 (30, 39.0239) -> (31.4242, 36.2475) centre (31.8255, 38.2068) ccw
  line L0 (30, 39.0239) -> (-30, 39.0239)
  arc A8 (-31.4242, 36.2475) -> (-30, 39.0239) centre (-31.8255, 38.2068) ccw
  arc A9 (-31.4242, 36.2475) -> (-46.4362, -29.4214) centre (-24, 0) ccw
  arc A10 (-42.5, -37.3731) -> (-46.4362, -29.4214) centre (-52.5, -37.3731) ccw
  line L1 (-42.5, -37.3731) -> (-42.5, -39.4214)
  line L2 (-42.5, -39.4214) -> (42.5, -39.4214)
  line L3 (42.5, -39.4214) -> (42.5, -37.3731)
  arc A11 (46.4362, -29.4214) -> (42.5, -37.3731) centre (52.5, -37.3731) ccw
  circle A12 centre (-24, 0) radius 29.5 construction
  line L4 (0, 0) -> (0, 37.1626) construction
  point P0 (-33.2871, 28)
  point P1 (-53.5, 0)
  point P2 (-33.2871, -28)
  point P3 (0, -30)
  point P4 (0, 30)
  point P5 (33.2871, 28)
  point P6 (53.5, 0)
  point P7 (33.2871, -28)
  dimension "d55" = 59
  dimension "d56" = 28
  dimension "d57" = 30
  dimension "d58" = 30
hole "Hole2" at (115, 0, 30) at (115, -33.2871, 28) at (115, -53.5, 0) at (115, -33.2871, -28) at (115, 0, -30) at (115, 33.2871, -28) at (115, 53.5, 0) at (115, 33.2871, 28) direction (-1, 0, 0) diameter 5 depth 8 tip angle 118
mirror "Mirror2" about plane through (0, 0, 0) normal (0, 0, 1) of "Extrude3"
